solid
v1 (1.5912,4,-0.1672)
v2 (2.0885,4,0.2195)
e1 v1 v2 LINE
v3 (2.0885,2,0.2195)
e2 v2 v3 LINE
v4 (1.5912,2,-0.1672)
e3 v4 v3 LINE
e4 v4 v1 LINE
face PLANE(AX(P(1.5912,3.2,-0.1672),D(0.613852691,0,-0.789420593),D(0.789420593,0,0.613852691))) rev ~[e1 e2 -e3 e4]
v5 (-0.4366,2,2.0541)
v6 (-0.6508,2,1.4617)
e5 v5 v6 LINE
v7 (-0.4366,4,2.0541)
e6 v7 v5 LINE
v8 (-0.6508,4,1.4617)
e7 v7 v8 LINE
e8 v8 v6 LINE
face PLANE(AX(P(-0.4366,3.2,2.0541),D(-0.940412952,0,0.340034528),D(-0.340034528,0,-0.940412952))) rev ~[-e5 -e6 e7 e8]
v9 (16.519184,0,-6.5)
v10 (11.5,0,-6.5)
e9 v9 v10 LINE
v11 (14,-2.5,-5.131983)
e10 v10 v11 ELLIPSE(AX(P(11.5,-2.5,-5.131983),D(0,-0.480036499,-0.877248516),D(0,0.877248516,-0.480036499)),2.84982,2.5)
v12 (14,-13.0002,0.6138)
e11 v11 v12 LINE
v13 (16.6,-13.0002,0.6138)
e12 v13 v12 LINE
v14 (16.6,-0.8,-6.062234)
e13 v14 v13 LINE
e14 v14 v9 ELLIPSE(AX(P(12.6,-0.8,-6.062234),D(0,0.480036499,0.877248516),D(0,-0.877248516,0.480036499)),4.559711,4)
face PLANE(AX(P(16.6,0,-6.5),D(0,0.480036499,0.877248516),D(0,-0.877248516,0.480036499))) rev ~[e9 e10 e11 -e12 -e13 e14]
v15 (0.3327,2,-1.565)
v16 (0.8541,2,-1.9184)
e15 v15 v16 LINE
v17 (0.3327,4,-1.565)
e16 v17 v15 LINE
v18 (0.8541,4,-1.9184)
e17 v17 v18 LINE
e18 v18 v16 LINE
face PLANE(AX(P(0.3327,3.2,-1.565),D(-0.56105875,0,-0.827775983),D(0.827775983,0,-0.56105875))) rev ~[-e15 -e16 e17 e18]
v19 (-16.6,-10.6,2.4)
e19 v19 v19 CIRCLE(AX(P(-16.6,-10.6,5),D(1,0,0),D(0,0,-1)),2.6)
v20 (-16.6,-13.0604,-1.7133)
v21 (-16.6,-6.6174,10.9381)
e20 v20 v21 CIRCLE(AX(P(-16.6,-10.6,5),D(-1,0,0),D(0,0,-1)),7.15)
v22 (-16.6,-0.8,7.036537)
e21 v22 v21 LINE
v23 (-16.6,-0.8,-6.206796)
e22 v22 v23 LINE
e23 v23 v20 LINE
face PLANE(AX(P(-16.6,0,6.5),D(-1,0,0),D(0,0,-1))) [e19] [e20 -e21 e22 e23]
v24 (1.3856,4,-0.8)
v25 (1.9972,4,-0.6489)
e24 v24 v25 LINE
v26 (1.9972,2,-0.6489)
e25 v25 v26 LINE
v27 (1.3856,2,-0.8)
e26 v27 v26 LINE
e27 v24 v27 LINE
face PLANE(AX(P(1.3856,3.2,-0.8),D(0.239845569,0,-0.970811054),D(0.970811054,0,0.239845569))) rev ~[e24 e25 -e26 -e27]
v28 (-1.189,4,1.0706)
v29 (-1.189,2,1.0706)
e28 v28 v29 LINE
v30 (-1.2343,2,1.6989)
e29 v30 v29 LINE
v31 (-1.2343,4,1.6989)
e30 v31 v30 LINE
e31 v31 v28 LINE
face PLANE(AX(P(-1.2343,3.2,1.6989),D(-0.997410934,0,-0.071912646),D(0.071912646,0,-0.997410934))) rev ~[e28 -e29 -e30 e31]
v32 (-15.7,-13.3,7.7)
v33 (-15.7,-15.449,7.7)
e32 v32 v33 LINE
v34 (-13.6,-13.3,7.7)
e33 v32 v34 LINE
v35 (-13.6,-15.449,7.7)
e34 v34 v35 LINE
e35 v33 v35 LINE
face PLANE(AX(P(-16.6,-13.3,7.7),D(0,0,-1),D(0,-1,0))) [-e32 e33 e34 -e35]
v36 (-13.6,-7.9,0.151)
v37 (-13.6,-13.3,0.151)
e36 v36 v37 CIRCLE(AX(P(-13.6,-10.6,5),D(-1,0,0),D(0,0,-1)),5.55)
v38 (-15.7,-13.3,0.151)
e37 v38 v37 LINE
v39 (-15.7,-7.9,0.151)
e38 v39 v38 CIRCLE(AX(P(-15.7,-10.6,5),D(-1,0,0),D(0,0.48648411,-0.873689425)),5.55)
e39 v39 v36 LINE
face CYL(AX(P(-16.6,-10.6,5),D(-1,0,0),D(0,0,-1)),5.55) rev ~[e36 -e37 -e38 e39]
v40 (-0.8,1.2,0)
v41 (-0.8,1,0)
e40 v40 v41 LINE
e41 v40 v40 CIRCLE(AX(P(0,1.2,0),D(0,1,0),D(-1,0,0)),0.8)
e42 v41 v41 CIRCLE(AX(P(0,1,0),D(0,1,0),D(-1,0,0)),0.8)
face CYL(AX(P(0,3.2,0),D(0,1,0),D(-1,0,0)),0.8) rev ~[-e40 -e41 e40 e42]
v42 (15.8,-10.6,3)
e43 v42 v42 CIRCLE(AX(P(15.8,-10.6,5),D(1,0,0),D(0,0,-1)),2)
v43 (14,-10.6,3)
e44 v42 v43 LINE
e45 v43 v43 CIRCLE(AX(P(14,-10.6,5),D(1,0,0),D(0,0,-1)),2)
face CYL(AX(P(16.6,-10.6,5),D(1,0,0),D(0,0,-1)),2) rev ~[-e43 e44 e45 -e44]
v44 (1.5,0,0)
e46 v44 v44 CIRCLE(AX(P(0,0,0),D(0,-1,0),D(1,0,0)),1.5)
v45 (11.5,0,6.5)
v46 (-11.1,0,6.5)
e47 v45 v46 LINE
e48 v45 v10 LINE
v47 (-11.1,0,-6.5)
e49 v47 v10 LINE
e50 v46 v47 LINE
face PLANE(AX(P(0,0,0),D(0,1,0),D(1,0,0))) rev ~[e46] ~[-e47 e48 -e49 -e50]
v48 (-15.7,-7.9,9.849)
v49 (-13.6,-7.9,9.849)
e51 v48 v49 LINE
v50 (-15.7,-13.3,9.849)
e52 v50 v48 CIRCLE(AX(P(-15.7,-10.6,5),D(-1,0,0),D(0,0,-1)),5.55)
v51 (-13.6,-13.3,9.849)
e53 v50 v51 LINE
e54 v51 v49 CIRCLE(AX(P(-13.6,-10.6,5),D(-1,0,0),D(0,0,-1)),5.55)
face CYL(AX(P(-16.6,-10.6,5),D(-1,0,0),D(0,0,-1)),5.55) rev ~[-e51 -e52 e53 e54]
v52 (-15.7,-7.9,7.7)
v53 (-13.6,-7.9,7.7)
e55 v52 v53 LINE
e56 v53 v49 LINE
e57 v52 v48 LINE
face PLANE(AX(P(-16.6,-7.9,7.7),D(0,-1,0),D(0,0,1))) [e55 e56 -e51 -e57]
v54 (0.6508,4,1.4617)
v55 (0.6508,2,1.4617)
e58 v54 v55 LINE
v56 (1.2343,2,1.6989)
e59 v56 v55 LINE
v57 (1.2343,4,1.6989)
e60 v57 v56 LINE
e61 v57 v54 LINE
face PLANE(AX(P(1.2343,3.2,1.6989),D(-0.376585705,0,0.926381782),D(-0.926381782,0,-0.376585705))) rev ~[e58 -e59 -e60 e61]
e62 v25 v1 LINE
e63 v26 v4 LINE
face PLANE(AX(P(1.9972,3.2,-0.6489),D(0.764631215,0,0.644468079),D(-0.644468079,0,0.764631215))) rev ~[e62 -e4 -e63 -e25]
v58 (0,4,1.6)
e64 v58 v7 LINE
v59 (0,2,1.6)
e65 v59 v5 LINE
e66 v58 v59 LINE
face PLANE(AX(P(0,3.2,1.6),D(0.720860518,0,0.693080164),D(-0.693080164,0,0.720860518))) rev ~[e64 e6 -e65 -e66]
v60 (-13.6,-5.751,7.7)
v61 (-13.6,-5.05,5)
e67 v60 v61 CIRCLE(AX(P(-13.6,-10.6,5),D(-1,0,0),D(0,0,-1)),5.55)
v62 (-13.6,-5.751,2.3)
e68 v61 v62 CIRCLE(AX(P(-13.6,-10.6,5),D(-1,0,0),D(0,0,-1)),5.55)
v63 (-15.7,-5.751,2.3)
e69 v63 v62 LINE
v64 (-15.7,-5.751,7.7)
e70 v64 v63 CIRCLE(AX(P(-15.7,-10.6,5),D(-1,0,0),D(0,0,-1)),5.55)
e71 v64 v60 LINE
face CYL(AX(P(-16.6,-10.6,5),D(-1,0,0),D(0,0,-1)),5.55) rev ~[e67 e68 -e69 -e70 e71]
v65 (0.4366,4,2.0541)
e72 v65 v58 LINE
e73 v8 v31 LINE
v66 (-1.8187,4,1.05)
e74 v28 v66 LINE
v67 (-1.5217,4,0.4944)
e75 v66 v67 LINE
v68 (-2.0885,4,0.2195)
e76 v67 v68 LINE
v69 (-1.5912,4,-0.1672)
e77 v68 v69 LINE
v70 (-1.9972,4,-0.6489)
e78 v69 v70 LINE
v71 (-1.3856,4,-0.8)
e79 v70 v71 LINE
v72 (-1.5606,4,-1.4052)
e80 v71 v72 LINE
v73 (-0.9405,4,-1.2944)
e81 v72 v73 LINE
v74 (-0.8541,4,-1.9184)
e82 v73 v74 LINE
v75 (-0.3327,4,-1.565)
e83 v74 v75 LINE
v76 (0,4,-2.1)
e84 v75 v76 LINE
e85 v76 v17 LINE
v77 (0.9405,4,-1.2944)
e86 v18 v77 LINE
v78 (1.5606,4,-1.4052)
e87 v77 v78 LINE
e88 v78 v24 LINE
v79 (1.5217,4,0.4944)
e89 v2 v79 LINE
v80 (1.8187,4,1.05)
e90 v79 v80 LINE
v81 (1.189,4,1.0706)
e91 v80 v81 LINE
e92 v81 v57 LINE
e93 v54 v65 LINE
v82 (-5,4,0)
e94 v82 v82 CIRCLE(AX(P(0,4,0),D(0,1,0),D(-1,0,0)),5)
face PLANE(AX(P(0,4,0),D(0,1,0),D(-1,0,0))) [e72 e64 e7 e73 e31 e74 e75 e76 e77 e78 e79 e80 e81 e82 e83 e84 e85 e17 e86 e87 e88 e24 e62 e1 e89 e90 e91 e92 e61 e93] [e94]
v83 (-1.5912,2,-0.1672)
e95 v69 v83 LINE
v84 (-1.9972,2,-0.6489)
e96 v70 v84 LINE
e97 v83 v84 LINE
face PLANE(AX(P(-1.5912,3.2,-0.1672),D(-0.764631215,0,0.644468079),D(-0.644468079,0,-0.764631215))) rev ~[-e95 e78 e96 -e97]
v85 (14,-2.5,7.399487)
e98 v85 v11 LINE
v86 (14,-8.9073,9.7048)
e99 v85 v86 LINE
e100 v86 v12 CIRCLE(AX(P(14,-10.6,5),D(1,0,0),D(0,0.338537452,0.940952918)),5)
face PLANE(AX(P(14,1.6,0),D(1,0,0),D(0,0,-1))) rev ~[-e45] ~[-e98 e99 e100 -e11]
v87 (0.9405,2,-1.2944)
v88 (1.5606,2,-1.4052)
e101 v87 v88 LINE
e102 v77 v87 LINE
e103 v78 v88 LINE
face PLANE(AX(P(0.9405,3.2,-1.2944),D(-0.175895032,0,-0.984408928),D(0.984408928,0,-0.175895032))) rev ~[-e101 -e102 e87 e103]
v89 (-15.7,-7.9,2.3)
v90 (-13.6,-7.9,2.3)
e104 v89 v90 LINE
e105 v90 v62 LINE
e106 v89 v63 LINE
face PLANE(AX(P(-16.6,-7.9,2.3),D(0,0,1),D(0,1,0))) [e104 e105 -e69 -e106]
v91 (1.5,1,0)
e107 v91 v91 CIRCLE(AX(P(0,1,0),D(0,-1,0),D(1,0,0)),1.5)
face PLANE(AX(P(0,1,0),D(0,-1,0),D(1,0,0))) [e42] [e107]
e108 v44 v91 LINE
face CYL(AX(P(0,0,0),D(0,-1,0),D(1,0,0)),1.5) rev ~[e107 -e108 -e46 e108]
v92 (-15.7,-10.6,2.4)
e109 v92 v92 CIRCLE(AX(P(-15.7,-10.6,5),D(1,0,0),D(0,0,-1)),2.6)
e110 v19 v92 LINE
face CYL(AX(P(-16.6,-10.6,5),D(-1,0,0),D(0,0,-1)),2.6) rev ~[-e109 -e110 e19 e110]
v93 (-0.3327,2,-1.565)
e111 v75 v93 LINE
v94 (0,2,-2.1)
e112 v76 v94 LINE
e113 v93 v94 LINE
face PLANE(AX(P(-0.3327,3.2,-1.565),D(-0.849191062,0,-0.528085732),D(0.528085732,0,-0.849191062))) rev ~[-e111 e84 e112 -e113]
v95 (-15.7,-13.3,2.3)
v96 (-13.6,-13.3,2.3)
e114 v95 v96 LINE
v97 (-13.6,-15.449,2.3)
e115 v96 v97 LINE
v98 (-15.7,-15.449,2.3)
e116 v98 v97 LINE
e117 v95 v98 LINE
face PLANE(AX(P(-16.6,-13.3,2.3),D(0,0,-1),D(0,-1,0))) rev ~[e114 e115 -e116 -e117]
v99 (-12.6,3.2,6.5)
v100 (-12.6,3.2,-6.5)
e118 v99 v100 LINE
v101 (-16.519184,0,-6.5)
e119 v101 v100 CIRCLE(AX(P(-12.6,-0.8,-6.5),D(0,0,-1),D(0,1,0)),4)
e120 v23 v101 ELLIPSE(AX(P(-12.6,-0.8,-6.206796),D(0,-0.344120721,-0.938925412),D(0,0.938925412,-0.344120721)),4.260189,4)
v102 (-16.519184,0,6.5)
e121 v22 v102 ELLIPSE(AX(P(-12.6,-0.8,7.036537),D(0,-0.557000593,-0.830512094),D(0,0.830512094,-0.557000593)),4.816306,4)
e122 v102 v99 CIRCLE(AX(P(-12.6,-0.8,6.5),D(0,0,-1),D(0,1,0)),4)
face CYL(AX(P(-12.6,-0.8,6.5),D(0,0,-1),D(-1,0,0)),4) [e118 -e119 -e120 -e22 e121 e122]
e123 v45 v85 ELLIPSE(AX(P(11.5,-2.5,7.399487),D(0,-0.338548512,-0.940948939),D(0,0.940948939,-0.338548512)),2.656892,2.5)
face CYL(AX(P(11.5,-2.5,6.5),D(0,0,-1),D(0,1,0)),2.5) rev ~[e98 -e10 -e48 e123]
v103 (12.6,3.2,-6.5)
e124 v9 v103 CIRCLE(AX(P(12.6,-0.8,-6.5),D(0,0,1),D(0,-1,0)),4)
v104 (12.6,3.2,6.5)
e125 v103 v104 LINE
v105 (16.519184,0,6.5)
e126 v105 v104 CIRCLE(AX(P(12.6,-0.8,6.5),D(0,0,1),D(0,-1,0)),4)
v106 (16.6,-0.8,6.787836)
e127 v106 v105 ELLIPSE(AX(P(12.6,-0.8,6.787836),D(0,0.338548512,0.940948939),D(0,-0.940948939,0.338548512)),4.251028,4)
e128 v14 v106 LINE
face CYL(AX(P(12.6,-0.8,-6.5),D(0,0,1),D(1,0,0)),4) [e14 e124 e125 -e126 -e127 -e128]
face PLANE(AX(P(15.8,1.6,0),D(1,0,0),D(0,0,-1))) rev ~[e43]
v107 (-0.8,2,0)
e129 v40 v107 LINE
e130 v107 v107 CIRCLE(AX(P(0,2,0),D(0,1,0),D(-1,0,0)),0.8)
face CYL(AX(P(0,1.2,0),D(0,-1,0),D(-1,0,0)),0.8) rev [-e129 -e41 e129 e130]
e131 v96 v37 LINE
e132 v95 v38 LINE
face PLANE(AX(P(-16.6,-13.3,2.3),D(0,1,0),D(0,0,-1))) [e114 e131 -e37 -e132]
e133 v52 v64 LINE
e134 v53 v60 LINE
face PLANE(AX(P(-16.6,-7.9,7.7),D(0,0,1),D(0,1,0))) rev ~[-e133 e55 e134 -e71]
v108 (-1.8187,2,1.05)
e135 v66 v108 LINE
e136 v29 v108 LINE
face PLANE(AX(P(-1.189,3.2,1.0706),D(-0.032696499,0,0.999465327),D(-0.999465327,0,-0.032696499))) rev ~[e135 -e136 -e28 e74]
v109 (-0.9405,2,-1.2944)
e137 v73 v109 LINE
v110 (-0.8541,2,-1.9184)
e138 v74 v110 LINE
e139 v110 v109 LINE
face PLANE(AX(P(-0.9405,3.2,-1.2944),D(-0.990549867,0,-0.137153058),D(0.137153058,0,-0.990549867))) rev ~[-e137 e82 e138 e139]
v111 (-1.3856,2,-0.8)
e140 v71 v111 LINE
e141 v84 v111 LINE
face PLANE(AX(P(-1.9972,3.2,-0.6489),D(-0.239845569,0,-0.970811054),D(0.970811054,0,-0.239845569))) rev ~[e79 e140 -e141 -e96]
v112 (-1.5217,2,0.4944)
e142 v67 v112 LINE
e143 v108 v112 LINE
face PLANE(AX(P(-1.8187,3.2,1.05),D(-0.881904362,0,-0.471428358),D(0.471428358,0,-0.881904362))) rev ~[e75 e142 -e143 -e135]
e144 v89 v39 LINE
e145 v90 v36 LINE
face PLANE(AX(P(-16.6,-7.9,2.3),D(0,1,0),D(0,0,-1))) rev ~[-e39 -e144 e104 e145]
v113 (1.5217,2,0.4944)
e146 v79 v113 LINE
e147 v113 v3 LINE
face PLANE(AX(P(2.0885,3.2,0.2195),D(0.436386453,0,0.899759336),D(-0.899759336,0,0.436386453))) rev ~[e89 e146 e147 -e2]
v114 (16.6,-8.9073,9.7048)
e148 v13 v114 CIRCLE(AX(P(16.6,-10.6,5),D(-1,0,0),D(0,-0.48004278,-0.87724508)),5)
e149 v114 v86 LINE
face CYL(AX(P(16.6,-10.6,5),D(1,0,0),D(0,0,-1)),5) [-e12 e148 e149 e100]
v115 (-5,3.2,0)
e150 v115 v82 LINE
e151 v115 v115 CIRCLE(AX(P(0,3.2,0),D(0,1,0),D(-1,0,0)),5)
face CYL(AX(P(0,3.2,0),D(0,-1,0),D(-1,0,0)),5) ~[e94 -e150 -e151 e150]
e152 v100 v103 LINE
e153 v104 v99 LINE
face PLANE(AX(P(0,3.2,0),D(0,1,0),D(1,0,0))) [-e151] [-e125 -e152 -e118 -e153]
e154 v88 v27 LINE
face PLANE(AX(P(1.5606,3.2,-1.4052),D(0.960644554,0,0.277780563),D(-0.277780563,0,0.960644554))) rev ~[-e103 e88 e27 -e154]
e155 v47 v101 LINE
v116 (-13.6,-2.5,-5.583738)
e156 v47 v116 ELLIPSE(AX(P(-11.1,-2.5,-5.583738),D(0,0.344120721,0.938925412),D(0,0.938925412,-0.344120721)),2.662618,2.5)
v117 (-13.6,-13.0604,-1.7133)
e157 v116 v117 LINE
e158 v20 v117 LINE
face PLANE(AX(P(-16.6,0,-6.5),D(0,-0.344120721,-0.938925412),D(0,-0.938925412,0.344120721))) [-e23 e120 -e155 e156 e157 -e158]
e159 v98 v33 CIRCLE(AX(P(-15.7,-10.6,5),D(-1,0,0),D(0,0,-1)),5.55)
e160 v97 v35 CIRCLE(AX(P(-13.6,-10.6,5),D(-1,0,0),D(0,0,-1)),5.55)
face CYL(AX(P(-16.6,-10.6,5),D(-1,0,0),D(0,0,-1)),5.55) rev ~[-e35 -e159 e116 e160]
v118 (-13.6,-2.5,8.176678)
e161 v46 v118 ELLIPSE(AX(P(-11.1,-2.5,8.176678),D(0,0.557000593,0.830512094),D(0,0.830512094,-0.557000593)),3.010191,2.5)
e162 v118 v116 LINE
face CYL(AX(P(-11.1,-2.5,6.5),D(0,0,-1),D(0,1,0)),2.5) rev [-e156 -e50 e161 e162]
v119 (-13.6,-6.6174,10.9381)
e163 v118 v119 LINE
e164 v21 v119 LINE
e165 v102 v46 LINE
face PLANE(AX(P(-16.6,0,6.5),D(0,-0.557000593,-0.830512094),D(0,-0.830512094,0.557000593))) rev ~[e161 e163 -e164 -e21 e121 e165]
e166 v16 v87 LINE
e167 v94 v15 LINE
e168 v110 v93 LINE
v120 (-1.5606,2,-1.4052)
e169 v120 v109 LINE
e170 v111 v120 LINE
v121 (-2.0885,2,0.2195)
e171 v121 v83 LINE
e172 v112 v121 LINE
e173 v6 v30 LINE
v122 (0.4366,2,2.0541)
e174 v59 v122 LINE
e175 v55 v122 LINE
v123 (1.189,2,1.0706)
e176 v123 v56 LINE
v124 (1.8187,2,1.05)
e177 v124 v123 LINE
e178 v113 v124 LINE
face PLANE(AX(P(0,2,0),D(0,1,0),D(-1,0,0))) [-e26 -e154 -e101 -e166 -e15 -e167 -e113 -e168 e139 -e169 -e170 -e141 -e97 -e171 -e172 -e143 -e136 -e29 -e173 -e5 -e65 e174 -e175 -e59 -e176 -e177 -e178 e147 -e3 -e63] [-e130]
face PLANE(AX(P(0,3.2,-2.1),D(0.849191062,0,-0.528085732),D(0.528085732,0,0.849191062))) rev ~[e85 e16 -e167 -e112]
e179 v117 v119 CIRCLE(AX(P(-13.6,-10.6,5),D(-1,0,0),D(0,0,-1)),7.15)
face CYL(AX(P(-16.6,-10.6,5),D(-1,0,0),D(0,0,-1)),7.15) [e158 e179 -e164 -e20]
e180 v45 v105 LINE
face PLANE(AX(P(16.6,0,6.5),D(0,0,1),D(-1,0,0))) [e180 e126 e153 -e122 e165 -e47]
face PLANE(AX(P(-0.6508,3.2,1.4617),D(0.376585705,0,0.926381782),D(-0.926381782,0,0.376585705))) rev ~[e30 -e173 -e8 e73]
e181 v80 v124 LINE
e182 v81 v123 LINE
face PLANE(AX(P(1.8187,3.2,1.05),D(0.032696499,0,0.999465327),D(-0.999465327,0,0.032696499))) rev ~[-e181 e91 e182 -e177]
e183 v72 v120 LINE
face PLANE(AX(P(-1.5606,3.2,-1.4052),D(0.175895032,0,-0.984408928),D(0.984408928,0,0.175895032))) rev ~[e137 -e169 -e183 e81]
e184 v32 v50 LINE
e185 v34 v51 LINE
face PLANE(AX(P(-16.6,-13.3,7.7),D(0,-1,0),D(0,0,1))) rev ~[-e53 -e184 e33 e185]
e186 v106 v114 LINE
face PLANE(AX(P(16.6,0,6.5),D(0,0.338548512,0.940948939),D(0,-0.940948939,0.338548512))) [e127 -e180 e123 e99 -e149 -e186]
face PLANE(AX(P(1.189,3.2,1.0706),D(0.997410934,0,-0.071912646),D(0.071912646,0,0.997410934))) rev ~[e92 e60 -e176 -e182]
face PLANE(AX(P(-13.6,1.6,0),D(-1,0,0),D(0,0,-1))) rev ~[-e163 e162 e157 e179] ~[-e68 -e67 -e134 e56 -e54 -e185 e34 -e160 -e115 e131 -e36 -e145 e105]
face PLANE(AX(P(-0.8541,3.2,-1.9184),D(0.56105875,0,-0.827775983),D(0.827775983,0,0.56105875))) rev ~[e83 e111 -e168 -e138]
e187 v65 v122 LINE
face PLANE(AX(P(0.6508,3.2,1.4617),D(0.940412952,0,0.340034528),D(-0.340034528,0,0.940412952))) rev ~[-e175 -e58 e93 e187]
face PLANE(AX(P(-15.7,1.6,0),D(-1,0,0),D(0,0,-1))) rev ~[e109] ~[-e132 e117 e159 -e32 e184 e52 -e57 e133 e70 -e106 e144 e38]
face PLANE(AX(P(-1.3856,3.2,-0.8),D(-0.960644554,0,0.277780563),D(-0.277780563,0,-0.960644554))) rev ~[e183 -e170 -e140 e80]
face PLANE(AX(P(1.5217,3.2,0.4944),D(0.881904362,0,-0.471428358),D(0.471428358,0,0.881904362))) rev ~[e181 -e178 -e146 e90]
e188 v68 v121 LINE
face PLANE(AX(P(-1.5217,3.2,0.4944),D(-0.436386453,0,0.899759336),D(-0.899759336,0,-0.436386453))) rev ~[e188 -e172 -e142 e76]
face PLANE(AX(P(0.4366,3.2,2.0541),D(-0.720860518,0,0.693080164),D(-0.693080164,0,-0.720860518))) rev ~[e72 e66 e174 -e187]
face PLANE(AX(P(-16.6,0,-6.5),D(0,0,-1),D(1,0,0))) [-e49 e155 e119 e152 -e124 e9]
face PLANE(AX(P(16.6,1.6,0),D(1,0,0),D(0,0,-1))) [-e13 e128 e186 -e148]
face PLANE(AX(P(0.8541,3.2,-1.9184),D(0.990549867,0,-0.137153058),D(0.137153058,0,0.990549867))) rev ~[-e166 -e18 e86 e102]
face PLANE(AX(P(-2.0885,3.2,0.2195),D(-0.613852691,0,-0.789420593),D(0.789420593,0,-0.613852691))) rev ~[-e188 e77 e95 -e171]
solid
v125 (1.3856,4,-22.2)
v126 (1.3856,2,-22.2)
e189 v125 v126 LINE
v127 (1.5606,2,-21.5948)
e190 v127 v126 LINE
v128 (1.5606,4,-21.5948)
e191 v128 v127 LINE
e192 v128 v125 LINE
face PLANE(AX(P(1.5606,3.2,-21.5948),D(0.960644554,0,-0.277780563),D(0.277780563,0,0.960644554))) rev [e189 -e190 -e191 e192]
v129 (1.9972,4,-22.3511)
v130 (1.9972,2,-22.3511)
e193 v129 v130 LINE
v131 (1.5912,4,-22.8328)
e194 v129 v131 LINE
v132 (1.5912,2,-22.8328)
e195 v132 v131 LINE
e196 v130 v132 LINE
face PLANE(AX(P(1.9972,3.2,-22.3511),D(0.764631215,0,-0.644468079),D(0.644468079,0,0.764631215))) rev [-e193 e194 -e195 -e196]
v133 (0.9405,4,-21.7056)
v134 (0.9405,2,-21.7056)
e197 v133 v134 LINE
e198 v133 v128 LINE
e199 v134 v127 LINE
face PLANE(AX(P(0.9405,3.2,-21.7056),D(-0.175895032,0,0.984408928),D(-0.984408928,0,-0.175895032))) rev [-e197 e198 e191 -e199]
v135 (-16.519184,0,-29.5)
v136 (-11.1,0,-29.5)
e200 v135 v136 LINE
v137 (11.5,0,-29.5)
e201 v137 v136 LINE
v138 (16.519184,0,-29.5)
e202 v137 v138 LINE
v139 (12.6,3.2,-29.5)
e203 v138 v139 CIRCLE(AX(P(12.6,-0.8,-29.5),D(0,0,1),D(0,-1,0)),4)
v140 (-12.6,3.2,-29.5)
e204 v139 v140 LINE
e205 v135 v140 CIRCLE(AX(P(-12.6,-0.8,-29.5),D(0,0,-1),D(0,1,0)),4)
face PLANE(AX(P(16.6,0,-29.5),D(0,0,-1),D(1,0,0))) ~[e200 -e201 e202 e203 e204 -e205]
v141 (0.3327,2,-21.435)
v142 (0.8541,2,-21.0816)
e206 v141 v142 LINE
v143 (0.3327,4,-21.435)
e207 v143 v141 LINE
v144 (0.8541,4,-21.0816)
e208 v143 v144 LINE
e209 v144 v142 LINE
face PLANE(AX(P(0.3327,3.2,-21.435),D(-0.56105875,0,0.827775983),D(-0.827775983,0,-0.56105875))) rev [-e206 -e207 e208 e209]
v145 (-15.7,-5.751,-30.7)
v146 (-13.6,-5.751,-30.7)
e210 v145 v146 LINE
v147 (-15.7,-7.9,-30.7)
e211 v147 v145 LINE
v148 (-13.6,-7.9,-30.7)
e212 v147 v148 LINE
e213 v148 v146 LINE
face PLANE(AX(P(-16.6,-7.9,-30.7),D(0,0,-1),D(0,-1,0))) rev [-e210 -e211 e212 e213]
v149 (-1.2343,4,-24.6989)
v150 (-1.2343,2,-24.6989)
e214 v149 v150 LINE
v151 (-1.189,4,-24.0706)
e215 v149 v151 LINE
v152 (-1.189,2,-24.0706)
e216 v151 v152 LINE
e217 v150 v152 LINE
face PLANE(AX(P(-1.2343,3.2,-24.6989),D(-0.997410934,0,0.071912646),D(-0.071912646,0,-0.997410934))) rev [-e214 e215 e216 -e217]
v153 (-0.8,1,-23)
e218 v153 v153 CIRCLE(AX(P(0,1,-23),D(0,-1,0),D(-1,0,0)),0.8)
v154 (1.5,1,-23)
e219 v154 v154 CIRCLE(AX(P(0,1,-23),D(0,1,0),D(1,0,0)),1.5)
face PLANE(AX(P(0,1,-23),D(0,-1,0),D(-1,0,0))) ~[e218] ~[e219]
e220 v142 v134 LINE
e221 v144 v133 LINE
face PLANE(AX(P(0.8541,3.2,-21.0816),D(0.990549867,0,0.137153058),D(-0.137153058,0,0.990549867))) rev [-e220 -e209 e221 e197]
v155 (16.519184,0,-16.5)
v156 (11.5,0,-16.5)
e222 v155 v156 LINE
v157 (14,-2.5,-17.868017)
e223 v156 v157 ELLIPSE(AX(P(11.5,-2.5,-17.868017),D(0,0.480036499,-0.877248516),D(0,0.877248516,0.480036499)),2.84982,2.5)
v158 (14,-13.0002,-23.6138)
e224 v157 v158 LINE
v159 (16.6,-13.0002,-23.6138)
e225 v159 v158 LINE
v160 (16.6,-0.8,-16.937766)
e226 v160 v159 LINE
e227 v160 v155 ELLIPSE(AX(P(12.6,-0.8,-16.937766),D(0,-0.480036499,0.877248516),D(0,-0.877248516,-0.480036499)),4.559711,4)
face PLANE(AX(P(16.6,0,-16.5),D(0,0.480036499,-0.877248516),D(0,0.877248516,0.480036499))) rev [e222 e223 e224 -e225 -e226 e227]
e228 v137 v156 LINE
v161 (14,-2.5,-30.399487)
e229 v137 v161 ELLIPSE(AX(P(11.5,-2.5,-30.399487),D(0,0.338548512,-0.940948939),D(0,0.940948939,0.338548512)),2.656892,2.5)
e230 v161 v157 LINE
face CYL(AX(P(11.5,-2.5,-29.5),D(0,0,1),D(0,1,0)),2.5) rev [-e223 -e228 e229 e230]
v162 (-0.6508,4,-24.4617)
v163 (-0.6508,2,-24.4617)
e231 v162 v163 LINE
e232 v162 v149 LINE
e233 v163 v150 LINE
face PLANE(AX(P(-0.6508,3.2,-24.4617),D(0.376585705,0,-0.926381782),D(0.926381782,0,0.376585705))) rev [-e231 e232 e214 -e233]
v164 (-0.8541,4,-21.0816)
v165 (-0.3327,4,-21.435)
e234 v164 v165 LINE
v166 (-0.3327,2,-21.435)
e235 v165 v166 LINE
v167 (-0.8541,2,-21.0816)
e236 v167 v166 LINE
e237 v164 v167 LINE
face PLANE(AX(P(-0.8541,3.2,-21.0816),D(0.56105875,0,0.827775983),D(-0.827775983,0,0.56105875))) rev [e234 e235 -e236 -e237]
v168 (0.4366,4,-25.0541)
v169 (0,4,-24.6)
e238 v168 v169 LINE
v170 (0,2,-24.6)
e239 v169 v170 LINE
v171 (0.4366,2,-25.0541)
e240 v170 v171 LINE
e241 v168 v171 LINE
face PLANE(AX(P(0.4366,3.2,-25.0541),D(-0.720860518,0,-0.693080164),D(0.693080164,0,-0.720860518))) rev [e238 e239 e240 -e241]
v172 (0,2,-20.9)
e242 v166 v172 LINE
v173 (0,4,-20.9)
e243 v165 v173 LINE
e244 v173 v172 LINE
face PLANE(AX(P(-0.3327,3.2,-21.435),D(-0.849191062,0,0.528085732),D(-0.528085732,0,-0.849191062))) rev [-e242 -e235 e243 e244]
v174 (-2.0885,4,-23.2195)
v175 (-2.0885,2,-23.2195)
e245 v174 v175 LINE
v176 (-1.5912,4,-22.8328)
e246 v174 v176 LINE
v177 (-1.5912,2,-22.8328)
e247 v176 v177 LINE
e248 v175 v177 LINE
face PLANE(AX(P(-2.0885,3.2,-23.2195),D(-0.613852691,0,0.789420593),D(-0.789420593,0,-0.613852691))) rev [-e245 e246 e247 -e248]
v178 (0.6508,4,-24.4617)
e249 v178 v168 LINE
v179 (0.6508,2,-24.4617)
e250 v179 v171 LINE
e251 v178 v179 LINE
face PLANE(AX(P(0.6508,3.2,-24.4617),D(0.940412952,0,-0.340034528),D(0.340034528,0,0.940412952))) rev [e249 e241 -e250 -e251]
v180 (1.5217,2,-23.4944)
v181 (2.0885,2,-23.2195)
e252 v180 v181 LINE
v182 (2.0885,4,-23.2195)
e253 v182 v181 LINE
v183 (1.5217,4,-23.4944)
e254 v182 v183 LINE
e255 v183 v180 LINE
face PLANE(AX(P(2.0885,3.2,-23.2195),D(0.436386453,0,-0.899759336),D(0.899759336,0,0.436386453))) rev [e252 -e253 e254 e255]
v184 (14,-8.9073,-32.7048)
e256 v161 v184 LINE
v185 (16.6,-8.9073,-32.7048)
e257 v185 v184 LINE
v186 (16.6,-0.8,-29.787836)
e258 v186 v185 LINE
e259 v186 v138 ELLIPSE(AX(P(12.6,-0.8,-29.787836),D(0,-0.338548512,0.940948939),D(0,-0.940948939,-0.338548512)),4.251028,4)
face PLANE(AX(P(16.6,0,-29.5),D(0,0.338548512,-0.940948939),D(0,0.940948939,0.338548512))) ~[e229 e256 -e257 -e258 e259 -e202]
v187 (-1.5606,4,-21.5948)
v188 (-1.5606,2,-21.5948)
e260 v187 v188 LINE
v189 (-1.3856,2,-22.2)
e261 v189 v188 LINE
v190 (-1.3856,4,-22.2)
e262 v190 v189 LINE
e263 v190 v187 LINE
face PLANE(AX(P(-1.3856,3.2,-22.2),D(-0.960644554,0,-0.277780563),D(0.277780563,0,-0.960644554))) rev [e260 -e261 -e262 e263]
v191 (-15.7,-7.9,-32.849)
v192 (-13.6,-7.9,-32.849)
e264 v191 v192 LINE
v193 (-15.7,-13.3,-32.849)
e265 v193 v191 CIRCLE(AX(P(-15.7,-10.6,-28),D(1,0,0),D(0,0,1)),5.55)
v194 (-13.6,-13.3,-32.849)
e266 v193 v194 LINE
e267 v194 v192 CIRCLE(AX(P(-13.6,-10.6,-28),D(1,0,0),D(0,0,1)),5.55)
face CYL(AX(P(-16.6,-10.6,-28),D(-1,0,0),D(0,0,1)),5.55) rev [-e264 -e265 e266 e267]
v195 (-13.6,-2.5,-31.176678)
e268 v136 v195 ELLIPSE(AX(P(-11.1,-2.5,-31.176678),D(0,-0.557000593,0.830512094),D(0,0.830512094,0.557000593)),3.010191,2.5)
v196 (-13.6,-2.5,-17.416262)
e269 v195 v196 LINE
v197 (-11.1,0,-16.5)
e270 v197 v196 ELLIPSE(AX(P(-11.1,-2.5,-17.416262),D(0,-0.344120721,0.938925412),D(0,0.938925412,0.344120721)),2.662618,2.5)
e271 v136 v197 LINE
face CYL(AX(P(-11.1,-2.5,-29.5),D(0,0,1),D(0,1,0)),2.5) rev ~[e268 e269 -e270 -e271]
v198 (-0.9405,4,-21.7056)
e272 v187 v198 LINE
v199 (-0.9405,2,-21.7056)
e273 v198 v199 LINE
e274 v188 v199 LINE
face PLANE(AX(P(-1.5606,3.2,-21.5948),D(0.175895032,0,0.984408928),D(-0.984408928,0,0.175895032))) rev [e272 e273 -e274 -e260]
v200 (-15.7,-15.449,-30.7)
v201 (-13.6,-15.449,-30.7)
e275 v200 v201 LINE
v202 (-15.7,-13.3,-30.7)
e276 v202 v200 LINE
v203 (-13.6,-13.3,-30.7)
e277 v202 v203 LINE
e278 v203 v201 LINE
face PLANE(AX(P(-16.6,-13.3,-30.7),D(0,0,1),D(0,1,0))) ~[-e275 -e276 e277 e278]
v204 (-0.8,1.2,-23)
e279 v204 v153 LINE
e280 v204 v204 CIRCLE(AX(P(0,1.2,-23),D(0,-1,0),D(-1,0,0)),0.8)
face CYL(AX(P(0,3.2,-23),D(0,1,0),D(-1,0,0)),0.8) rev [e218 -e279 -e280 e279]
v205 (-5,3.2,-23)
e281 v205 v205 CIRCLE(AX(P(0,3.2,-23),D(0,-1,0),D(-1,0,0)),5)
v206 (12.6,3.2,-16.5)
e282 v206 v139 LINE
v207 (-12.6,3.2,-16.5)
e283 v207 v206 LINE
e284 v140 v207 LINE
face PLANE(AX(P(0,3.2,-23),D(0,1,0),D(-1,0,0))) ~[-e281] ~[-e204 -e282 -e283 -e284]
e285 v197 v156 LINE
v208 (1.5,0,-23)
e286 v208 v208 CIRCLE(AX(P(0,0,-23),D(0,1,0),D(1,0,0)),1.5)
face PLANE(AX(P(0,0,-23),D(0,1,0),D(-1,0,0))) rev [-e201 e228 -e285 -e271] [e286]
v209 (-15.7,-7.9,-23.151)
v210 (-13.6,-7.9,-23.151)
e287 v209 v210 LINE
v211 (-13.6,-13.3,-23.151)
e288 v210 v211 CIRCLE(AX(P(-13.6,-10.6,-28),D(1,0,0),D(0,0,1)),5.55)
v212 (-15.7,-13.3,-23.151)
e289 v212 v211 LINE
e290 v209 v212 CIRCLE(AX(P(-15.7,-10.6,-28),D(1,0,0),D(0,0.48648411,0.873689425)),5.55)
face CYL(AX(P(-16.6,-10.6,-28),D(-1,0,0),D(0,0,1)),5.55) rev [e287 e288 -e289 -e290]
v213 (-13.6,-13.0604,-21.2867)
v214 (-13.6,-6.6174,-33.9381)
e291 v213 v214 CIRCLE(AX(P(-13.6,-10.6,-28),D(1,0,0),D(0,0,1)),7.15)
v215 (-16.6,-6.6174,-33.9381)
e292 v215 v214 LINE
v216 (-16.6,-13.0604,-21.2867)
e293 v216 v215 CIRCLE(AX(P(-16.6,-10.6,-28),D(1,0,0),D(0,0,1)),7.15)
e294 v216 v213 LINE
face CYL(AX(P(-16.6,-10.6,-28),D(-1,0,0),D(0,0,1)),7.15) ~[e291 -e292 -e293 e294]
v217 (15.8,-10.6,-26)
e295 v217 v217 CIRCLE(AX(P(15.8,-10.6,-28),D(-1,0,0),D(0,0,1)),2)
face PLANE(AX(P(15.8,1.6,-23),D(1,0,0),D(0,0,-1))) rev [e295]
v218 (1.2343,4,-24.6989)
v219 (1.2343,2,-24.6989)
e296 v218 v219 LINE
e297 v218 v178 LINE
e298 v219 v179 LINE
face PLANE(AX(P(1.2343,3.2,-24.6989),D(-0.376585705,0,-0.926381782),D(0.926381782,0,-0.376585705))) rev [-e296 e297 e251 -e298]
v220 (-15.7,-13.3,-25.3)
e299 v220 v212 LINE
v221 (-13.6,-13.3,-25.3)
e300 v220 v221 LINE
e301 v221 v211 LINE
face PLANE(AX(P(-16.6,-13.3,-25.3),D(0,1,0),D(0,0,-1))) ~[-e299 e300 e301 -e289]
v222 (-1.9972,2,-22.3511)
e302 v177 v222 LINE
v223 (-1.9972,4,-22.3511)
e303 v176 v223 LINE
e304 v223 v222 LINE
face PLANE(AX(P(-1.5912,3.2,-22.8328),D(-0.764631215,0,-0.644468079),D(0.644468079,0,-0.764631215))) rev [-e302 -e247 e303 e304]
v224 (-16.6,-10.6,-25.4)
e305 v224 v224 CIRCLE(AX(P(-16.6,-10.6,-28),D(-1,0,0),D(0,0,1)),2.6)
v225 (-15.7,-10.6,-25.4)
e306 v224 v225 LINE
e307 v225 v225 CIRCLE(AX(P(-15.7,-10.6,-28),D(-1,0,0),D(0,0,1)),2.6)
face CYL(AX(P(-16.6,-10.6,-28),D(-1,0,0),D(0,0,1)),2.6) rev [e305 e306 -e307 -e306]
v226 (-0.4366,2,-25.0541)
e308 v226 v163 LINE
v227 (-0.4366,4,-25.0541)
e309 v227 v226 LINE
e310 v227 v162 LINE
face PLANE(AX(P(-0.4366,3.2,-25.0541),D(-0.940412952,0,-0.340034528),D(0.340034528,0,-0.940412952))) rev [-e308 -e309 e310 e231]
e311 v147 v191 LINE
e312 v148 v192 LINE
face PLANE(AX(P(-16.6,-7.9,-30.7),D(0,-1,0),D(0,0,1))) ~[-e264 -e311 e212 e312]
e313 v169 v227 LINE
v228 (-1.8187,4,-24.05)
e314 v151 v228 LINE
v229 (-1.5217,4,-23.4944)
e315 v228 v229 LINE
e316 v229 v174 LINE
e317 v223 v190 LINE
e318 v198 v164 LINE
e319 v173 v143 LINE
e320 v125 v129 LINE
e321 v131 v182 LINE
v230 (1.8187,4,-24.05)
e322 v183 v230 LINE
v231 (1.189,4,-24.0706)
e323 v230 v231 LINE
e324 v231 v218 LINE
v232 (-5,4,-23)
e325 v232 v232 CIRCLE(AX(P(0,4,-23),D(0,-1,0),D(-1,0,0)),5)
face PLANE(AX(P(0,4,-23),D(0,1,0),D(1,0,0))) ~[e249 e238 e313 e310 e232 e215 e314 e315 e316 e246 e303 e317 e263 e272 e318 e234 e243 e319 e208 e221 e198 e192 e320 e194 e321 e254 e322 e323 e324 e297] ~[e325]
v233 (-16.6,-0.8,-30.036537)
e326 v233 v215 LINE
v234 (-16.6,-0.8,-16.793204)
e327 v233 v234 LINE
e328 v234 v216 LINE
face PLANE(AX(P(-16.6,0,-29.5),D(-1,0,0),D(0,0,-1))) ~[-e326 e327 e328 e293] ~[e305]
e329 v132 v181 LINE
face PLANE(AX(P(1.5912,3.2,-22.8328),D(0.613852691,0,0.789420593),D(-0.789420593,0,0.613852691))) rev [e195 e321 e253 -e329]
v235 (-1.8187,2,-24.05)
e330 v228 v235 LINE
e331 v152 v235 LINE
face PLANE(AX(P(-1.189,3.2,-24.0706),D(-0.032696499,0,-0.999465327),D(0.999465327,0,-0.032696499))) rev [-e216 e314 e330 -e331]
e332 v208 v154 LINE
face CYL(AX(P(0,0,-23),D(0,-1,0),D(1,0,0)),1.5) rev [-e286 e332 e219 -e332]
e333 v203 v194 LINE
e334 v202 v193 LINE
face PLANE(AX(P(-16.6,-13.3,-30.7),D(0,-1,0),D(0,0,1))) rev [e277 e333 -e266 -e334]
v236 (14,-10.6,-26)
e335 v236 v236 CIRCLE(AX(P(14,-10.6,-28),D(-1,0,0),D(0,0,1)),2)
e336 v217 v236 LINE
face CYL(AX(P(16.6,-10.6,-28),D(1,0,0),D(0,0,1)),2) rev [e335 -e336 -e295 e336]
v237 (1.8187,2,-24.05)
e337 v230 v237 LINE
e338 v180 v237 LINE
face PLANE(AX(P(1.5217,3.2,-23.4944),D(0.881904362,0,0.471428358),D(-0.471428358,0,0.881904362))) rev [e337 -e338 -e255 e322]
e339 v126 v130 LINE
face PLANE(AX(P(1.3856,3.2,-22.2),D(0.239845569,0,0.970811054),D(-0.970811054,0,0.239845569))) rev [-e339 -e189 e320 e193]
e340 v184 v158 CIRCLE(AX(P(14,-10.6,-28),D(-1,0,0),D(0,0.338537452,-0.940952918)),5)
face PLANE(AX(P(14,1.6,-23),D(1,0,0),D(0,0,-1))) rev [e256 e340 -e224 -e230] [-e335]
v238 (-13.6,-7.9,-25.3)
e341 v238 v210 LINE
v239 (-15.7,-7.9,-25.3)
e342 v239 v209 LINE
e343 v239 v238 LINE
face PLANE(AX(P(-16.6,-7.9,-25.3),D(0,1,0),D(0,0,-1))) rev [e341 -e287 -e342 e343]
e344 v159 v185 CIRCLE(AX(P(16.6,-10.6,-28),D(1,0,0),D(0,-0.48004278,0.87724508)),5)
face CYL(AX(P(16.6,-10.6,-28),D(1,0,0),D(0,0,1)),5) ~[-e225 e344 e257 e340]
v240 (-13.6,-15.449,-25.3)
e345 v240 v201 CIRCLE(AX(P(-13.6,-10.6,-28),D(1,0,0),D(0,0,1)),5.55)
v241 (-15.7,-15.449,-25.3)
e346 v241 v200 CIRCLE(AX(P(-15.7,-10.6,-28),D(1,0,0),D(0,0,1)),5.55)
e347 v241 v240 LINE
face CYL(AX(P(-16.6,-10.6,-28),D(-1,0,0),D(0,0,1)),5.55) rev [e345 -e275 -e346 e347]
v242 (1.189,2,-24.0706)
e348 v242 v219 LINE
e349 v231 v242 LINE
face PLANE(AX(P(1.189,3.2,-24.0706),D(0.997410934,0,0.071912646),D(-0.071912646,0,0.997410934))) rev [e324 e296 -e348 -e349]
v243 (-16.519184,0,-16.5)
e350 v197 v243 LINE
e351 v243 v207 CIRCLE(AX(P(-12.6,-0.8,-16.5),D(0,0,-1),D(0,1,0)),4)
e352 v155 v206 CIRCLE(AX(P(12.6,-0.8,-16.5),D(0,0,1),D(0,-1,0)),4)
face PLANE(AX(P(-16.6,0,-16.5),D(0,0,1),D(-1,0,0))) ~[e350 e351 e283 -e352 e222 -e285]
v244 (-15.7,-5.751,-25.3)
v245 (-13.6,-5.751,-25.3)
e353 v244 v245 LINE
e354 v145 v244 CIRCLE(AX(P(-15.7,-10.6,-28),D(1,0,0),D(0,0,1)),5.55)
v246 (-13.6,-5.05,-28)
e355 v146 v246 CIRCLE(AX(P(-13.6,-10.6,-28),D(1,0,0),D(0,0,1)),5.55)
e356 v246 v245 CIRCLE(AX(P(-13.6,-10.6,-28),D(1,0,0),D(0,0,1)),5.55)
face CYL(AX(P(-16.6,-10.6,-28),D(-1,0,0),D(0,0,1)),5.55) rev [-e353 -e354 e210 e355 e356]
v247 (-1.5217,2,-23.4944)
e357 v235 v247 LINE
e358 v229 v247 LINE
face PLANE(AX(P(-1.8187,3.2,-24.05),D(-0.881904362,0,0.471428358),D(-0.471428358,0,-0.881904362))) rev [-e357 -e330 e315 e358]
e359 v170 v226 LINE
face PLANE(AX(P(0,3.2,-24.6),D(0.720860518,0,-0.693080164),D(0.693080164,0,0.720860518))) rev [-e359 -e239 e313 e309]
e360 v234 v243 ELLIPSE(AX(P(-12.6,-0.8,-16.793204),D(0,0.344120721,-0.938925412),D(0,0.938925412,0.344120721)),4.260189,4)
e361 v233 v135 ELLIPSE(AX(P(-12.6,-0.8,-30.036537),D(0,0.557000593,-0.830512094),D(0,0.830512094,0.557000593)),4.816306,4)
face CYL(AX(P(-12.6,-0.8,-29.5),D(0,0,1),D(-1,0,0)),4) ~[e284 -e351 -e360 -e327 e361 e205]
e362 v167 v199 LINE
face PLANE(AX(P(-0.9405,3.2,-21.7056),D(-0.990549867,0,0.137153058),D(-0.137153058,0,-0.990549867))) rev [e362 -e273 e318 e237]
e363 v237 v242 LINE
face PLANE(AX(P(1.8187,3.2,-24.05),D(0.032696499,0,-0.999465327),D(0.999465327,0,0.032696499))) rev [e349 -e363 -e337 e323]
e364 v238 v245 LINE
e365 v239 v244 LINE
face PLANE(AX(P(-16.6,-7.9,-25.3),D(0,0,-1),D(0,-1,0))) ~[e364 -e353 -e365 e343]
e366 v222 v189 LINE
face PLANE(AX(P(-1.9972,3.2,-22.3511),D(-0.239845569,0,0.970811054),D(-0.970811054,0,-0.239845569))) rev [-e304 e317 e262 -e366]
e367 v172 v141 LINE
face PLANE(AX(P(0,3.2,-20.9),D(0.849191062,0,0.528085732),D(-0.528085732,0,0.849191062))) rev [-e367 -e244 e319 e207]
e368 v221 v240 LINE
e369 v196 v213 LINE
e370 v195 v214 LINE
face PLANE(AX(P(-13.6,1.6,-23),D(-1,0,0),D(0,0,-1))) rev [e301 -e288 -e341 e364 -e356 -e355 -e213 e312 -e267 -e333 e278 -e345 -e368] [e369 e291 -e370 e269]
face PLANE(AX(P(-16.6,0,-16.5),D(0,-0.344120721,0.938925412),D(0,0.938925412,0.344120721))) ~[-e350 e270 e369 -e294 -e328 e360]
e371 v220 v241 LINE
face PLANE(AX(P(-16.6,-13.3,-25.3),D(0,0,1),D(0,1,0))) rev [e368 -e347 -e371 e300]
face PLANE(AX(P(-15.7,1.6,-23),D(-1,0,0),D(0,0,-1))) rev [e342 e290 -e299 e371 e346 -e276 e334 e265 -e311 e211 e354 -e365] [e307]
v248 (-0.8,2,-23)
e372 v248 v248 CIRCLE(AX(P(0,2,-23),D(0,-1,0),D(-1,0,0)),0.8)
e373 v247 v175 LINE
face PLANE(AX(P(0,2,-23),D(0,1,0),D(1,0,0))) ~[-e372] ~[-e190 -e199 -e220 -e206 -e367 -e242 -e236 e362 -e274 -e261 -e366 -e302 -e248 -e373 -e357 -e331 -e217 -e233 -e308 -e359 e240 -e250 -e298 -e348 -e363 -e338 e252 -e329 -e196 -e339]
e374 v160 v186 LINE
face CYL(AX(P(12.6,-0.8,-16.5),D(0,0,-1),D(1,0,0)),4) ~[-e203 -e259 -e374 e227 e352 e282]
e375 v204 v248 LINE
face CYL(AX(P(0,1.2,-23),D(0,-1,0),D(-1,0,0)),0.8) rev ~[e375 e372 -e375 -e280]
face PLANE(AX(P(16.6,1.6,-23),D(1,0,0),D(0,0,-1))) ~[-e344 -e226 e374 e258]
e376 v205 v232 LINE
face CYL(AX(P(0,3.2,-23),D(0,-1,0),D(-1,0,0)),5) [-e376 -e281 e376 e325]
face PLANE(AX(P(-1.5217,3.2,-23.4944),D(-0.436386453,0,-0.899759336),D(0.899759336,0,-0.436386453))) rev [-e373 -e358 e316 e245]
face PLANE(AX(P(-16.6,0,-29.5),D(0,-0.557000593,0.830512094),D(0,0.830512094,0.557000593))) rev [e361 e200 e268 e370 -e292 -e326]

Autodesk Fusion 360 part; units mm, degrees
sketch "スケッチ1" plane through (0, 0, 0) normal (0, 1, 0) x (1, 0, 0)
  line L0 (16.6, -6.5) -> (-16.6, -6.5)
  line L1 (-16.6, -6.5) -> (-16.6, 6.5)
  line L2 (-16.6, 6.5) -> (16.6, 6.5)
  line L3 (16.6, 6.5) -> (16.6, -6.5)
  line L4 (16.6, -6.5) -> (-16.6, 6.5) construction
  line L5 (-16.6, -6.5) -> (16.6, 6.5) construction
  circle A0 centre (0, 0) radius 5.45
  circle A1 centre (0, 0) radius 2.6
  line L6 (0, 0) -> (0, 3.71)
  line L7 (0, 0) -> (-3.71, 0) construction
  line L8 (0, 0) -> (3.71, 0)
  line L9 (0, 0) -> (3.71, 0) construction
  line L10 (0, 3.71) -> (-3.71, 0)
  line L11 (-3.71, 0) -> (0, -3.71)
  line L12 (0, -3.71) -> (3.71, 0)
  line L13 (3.71, 0) -> (0, 3.71)
  line L14 (0, 3.71) -> (-1.5229, 5.2329)
  line L15 (0, 3.71) -> (1.5229, 5.2329)
  line L16 (3.71, 0) -> (5.2329, -1.5229)
  line L17 (3.71, 0) -> (5.2329, 1.5229)
  line L18 (0, -3.71) -> (1.5229, -5.2329)
  line L19 (0, -3.71) -> (-1.5229, -5.2329)
  line L20 (-3.71, 0) -> (-5.2329, -1.5229)
  line L21 (-3.71, 0) -> (-5.2329, 1.5229)
  dimension "d1" = 33.2
  dimension "d2" = 13
  dimension "d3" = 10.9
  dimension "d4" = 5.2
  dimension "d5" = 90
  dimension "d6" = 3.71
  dimension "d7" = 3.71
extrude "押し出し1" add sketch "スケッチ1" along normal blind 3.2 contours L0 L1 L2 L3 | A0 L16 L17 | A0 L14 L15 | A0 L18 L19 | A0 L20 L21 makes body 1
extrude "押し出し2" add sketch "スケッチ1" along normal blind 2.1 contours A0 L13 L15 L17 | A0 L12 L16 L18 | A1 L6 L8 L10 L11 L12 | A1 L6 L8 L13 | A0 L10 L14 L21 | A0 L11 L19 L20 bodies 1
ref_plane "作業平面1" through (-16.6, 1.6, 0) normal (-1, 0, 0) x (0, 0, 1)
ref_plane "作業平面2" through (16.6, 1.6, 0) normal (1, 0, 0) x (0, 0, -1)
sketch "スケッチ3" plane through (-16.6, 1.6, 0) normal (-1, 0, 0) x (0, 0, -1)
  line L0 (6.5, -1.6) -> (-5, -1.6)
  line L1 (6.5, -1.6) -> (18.5, -1.6) construction
  line L2 (-5, -1.6) -> (-5, 12.2)
  line L3 (-5, -1.6) -> (-18.3, -1.6) construction
  circle A0 centre (-5, 12.2) radius 2.6
  circle A1 centre (-5, 12.2) radius 7.15
  line L4 (-6.5, 1.6) -> (-10.9381, 8.2174)
  line L5 (6.5, 1.6) -> (1.7133, 14.6604)
  line L6 (-6.5, 1.6) -> (6.5, 1.6)
  point P0 (6.5, -1.6)
  point P1 (-5, 12.2)
  point P2 (-6.5, 1.6)
  point P3 (6.5, 1.6)
  dimension "d20" = 180
  dimension "d21" = 11.5
  dimension "d22" = 90
  dimension "d23" = 13.8
  dimension "d24" = 5.2
  dimension "d28" = 14.3
extrude "押し出し3" add sketch "スケッチ3" against normal blind 3 bodies 1
sketch "スケッチ5" plane through (-16.6, 1.6, 0) normal (-1, 0, 0) x (0, 0, -1)
  circle A0 centre (-5, 12.2) radius 5.55
  line L0 (-2.3, 14.9) -> (-7.7, 14.9)
  line L1 (-7.7, 14.9) -> (-7.7, 9.5)
  line L2 (-7.7, 9.5) -> (-2.3, 9.5)
  line L3 (-2.3, 9.5) -> (-2.3, 14.9)
  line L4 (-2.3, 14.9) -> (-7.7, 9.5) construction
  line L5 (-7.7, 14.9) -> (-2.3, 9.5) construction
  line L6 (-7.7, 14.9) -> (-9.849, 14.9)
  line L7 (-7.7, 14.9) -> (-7.7, 17.049)
  line L8 (-7.7, 9.5) -> (-9.849, 9.5)
  line L9 (-7.7, 9.5) -> (-7.7, 7.351)
  line L10 (-2.3, 9.5) -> (-2.3, 7.351)
  line L11 (-2.3, 9.5) -> (-0.151, 9.5)
  line L12 (-2.3, 14.9) -> (-0.151, 14.9)
  line L13 (-2.3, 14.9) -> (-2.3, 17.049)
  point P0 (-5, 12.2)
  point P1 (-5, 12.2)
  dimension "d32" = 11.1
  dimension "d33" = 5.4
  dimension "d34" = 5.4
extrude "押し出し4" cut sketch "スケッチ5" against normal blind 4.5 contours A0 L3 L11 L12 | A0 L0 L7 L13 | L0 L1 L2 L3 | A0 L2 L9 L10 | A0 L1 L6 L8 bodies 1
extrude "押し出し5" add sketch "スケッチ5" against normal blind 0.9 contours A0 L3 L11 L12 | A0 L0 L7 L13 | L0 L1 L2 L3 | A0 L2 L9 L10 | A0 L1 L6 L8 bodies 1
extrude "押し出し6" cut sketch "スケッチ3" against normal blind 1.5 contours A0 bodies 1
sketch "スケッチ6" plane through (16.6, 1.6, 0) normal (1, 0, 0) x (0, 0, -1)
  circle A0 centre (-5, -12.2) radius 2
  circle A1 centre (-5, -12.2) radius 5
  line L0 (-6.5, -1.6) -> (6.5, -1.6)
  line L1 (6.5, -1.6) -> (6.5, 1.6)
  line L2 (6.5, 1.6) -> (-6.5, 1.6)
  line L3 (-6.5, 1.6) -> (-6.5, -1.6)
  line L4 (-6.5, -1.6) -> (-9.7048, -10.5073)
  line L5 (-0.151, -14.9) -> (-2.3, -14.9)
  line L6 (6.5, -1.6) -> (-0.6138, -14.6002)
  point P0 (-5, -12.2)
  point P1 (-6.5, -1.6)
  point P2 (6.5, 1.6)
  point P3 (6.5, -1.6)
  dimension "d43" = 4
  dimension "d44" = 10
extrude "押し出し7" add sketch "スケッチ6" against normal blind 2.6 contours A1 | A1 L0 L4 L6 bodies 1
extrude "押し出し8" add sketch "スケッチ6" against normal blind 0.8 contours A0 bodies 1
sketch "スケッチ7" plane through (0, 3.2, 0) normal (0, 1, 0) x (-1, 0, 0)
  arc A0 (5.2329, 1.5229) -> (1.5229, 5.2329) centre (0, 0) ccw
  line L0 (5.2329, 1.5229) -> (3.71, 0)
  line L1 (3.71, 0) -> (5.2329, -1.5229)
  arc A1 (1.5229, -5.2329) -> (5.2329, -1.5229) centre (0, 0) ccw
  line L2 (1.5229, -5.2329) -> (0, -3.71)
  line L3 (0, -3.71) -> (-1.5229, -5.2329)
  arc A2 (-5.2329, -1.5229) -> (-1.5229, -5.2329) centre (0, 0) ccw
  line L4 (-5.2329, -1.5229) -> (-3.71, 0)
  line L5 (-3.71, 0) -> (-5.2329, 1.5229)
  arc A3 (-1.5229, 5.2329) -> (-5.2329, 1.5229) centre (0, 0) ccw
  line L6 (-1.5229, 5.2329) -> (0, 3.71)
  line L7 (0, 3.71) -> (1.5229, 5.2329)
  line L8 (-16.6, -6.5) -> (16.6, -6.5)
  line L9 (16.6, -6.5) -> (16.6, 6.5)
  line L10 (16.6, 6.5) -> (-16.6, 6.5)
  line L11 (-16.6, 6.5) -> (-16.6, -6.5)
  circle A4 centre (0, 0) radius 1.5
  circle A5 centre (0, 0) radius 0.8
  dimension "d49" = 3
  dimension "d50" = 1.6
extrude "押し出し9" add sketch "スケッチ7" against normal blind 3.2 contours A0 L0 L1 A1 L2 L3 A2 L4 L5 A3 L6 L7 | A4 bodies 1
sketch "スケッチ8" plane through (0, 3.2, 0) normal (0, 1, 0) x (-1, 0, 0)
  circle A0 centre (0, 0) radius 0.8
  line L0 (-16.6, -6.5) -> (16.6, -6.5)
  line L1 (16.6, -6.5) -> (16.6, 6.5)
  line L2 (16.6, 6.5) -> (-16.6, 6.5)
  line L3 (-16.6, 6.5) -> (-16.6, -6.5)
  circle A1 centre (0, 0) radius 1.6 construction
  circle A2 centre (0, 0) radius 2.1 construction
  line L4 (0, 1.6) -> (-0.6508, 1.4617)
  line L5 (-0.6508, 1.4617) -> (-1.189, 1.0706)
  line L6 (-1.189, 1.0706) -> (-1.5217, 0.4944)
  line L7 (-1.5217, 0.4944) -> (-1.5912, -0.1672)
  line L8 (-1.5912, -0.1672) -> (-1.3856, -0.8)
  line L9 (-1.3856, -0.8) -> (-0.9405, -1.2944)
  line L10 (-0.9405, -1.2944) -> (-0.3327, -1.565)
  line L11 (-0.3327, -1.565) -> (0.3327, -1.565)
  line L12 (0.3327, -1.565) -> (0.9405, -1.2944)
  line L13 (0.9405, -1.2944) -> (1.3856, -0.8)
  line L14 (1.3856, -0.8) -> (1.5912, -0.1672)
  line L15 (1.5912, -0.1672) -> (1.5217, 0.4944)
  line L16 (1.5217, 0.4944) -> (1.189, 1.0706)
  line L17 (1.189, 1.0706) -> (0.6508, 1.4617)
  line L18 (0.6508, 1.4617) -> (0, 1.6)
  line L19 (0, -2.1) -> (0.8541, -1.9184)
  line L20 (0.8541, -1.9184) -> (1.5606, -1.4052)
  line L21 (1.5606, -1.4052) -> (1.9972, -0.6489)
  line L22 (1.9972, -0.6489) -> (2.0885, 0.2195)
  line L23 (2.0885, 0.2195) -> (1.8187, 1.05)
  line L24 (1.8187, 1.05) -> (1.2343, 1.6989)
  line L25 (1.2343, 1.6989) -> (0.4366, 2.0541)
  line L26 (0.4366, 2.0541) -> (-0.4366, 2.0541)
  line L27 (-0.4366, 2.0541) -> (-1.2343, 1.6989)
  line L28 (-1.2343, 1.6989) -> (-1.8187, 1.05)
  line L29 (-1.8187, 1.05) -> (-2.0885, 0.2195)
  line L30 (-2.0885, 0.2195) -> (-1.9972, -0.6489)
  line L31 (-1.9972, -0.6489) -> (-1.5606, -1.4052)
  line L32 (-1.5606, -1.4052) -> (-0.8541, -1.9184)
  line L33 (-0.8541, -1.9184) -> (0, -2.1)
  line L34 (0, 1.6) -> (-0.4366, 2.0541)
  line L35 (-0.6508, 1.4617) -> (-0.4366, 2.0541)
  line L36 (0, 1.6) -> (0.4366, 2.0541)
  line L37 (0.4366, 2.0541) -> (0.6508, 1.4617)
  line L38 (0.6508, 1.4617) -> (1.2343, 1.6989)
  line L39 (1.2343, 1.6989) -> (1.189, 1.0706)
  line L40 (1.189, 1.0706) -> (1.8187, 1.05)
  line L41 (1.8187, 1.05) -> (1.5217, 0.4944)
  line L42 (1.5217, 0.4944) -> (2.0885, 0.2195)
  line L43 (2.0885, 0.2195) -> (1.5912, -0.1672)
  line L44 (1.5912, -0.1672) -> (1.9972, -0.6489)
  line L45 (1.9972, -0.6489) -> (1.3856, -0.8)
  line L46 (1.3856, -0.8) -> (1.5606, -1.4052)
  line L47 (1.5606, -1.4052) -> (0.9405, -1.2944)
  line L48 (0.8541, -1.9184) -> (0.9405, -1.2944)
  line L49 (0.8541, -1.9184) -> (0.3327, -1.565)
  line L50 (0.3327, -1.565) -> (0, -2.1)
  line L51 (0, -2.1) -> (-0.3327, -1.565)
  line L52 (-0.3327, -1.565) -> (-0.8541, -1.9184)
  line L53 (-0.8541, -1.9184) -> (-0.9405, -1.2944)
  line L54 (-0.9405, -1.2944) -> (-1.5606, -1.4052)
  line L55 (-1.5606, -1.4052) -> (-1.3856, -0.8)
  line L56 (-1.3856, -0.8) -> (-1.9972, -0.6489)
  line L57 (-1.9972, -0.6489) -> (-1.5912, -0.1672)
  line L58 (-1.5912, -0.1672) -> (-2.0885, 0.2195)
  line L59 (-1.5217, 0.4944) -> (-2.0885, 0.2195)
  line L60 (-1.5217, 0.4944) -> (-1.8187, 1.05)
  line L61 (-1.8187, 1.05) -> (-1.189, 1.0706)
  line L62 (-1.189, 1.0706) -> (-1.2343, 1.6989)
  line L63 (-1.2343, 1.6989) -> (-0.6508, 1.4617)
  dimension "d53" = 3.2
  dimension "d54" = 4.2
extrude "押し出し10" cut sketch "スケッチ8" against normal blind 2 contours L4 L5 L6 L7 L8 L9 L10 L11 L12 L13 L14 L15 L16 L17 L18 | L18 L36 L37 | L4 L34 L35 | L5 L62 L63 | L17 L38 L39 | L6 L60 L61 | L16 L40 L41 | L7 L58 L59 | L15 L42 L43 | L8 L56 L57 | L14 L44 L45 | L9 L54 L55 | L13 L46 L47 | L10 L52 L53 | L12 L48 L49 | L11 L50 L51 bodies 1
sketch "スケッチ9" plane through (0, 0, 0) normal (0, -1, 0) x (1, 0, 0)
  circle A0 centre (0, 0) radius 0.8
  line L0 (14, -6.5) -> (14, 6.5)
  line L1 (14, 6.5) -> (-13.6, 6.5)
  line L2 (-13.6, 6.5) -> (-13.6, -6.5)
  line L3 (-13.6, -6.5) -> (14, -6.5)
  circle A1 centre (0, 0) radius 1.5
  dimension "d57" = 3
extrude "押し出し11" cut sketch "スケッチ9" against normal blind 1 contours A1 bodies 1
fillet "フィレット1" radius 2.5 2 edges at (14, 0, 0) (-13.6, 0, 0) on bodies 1
fillet "フィレット2" radius 4 2 edges at (16.6, 3.2, 0) (-16.6, 3.2, 0) on bodies 1
extrude "押し出し12" add 1 faces at (-0.2763, 1.2, 1.2805) along direction (0, 1, 0) blind 0.8 on bodies 1 bodies 1
sketch "スケッチ10" plane through (0, 3.2, 0) normal (0, 1, 0) x (-1, 0, 0)
  line L0 (-1.5912, -0.1672) -> (-2.0885, 0.2195)
  line L1 (-2.0885, 0.2195) -> (-1.5217, 0.4944)
  line L2 (-1.5217, 0.4944) -> (-1.8187, 1.05)
  line L3 (-1.8187, 1.05) -> (-1.189, 1.0706)
  line L4 (-1.189, 1.0706) -> (-1.2343, 1.6989)
  line L5 (-1.2343, 1.6989) -> (-0.6508, 1.4617)
  line L6 (-0.6508, 1.4617) -> (-0.4366, 2.0541)
  line L7 (-0.4366, 2.0541) -> (0, 1.6)
  line L8 (0, 1.6) -> (0.4366, 2.0541)
  line L9 (0.4366, 2.0541) -> (0.6508, 1.4617)
  line L10 (0.6508, 1.4617) -> (1.2343, 1.6989)
  line L11 (1.2343, 1.6989) -> (1.189, 1.0706)
  line L12 (1.189, 1.0706) -> (1.8187, 1.05)
  line L13 (1.8187, 1.05) -> (1.5217, 0.4944)
  line L14 (1.5217, 0.4944) -> (2.0885, 0.2195)
  line L15 (2.0885, 0.2195) -> (1.5912, -0.1672)
  line L16 (1.5912, -0.1672) -> (1.9972, -0.6489)
  line L17 (1.9972, -0.6489) -> (1.3856, -0.8)
  line L18 (1.3856, -0.8) -> (1.5606, -1.4052)
  line L19 (1.5606, -1.4052) -> (0.9405, -1.2944)
  line L20 (0.9405, -1.2944) -> (0.8541, -1.9184)
  line L21 (0.8541, -1.9184) -> (0.3327, -1.565)
  line L22 (0.3327, -1.565) -> (0, -2.1)
  line L23 (0, -2.1) -> (-0.3327, -1.565)
  line L24 (-0.3327, -1.565) -> (-0.8541, -1.9184)
  line L25 (-0.8541, -1.9184) -> (-0.9405, -1.2944)
  line L26 (-0.9405, -1.2944) -> (-1.5606, -1.4052)
  line L27 (-1.5606, -1.4052) -> (-1.3856, -0.8)
  line L28 (-1.3856, -0.8) -> (-1.9972, -0.6489)
  line L29 (-1.9972, -0.6489) -> (-1.5912, -0.1672)
  line L30 (12.6, -6.5) -> (12.6, 6.5)
  line L31 (12.6, 6.5) -> (-12.6, 6.5)
  line L32 (-12.6, 6.5) -> (-12.6, -6.5)
  line L33 (-12.6, -6.5) -> (12.6, -6.5)
  circle A0 centre (0, 0) radius 5
  dimension "d64" = 10
extrude "押し出し13" add sketch "スケッチ10" along normal blind 0.8 contours A0 bodies 1
ref_plane "作業平面3" through (0, 1.6, -11.5) normal (0, 0, -1) x (-1, 0, 0)
mirror "ミラー1" about plane through (0, 1.6, -11.5) normal (0, 0, -1) of bodies 1 makes body 2
